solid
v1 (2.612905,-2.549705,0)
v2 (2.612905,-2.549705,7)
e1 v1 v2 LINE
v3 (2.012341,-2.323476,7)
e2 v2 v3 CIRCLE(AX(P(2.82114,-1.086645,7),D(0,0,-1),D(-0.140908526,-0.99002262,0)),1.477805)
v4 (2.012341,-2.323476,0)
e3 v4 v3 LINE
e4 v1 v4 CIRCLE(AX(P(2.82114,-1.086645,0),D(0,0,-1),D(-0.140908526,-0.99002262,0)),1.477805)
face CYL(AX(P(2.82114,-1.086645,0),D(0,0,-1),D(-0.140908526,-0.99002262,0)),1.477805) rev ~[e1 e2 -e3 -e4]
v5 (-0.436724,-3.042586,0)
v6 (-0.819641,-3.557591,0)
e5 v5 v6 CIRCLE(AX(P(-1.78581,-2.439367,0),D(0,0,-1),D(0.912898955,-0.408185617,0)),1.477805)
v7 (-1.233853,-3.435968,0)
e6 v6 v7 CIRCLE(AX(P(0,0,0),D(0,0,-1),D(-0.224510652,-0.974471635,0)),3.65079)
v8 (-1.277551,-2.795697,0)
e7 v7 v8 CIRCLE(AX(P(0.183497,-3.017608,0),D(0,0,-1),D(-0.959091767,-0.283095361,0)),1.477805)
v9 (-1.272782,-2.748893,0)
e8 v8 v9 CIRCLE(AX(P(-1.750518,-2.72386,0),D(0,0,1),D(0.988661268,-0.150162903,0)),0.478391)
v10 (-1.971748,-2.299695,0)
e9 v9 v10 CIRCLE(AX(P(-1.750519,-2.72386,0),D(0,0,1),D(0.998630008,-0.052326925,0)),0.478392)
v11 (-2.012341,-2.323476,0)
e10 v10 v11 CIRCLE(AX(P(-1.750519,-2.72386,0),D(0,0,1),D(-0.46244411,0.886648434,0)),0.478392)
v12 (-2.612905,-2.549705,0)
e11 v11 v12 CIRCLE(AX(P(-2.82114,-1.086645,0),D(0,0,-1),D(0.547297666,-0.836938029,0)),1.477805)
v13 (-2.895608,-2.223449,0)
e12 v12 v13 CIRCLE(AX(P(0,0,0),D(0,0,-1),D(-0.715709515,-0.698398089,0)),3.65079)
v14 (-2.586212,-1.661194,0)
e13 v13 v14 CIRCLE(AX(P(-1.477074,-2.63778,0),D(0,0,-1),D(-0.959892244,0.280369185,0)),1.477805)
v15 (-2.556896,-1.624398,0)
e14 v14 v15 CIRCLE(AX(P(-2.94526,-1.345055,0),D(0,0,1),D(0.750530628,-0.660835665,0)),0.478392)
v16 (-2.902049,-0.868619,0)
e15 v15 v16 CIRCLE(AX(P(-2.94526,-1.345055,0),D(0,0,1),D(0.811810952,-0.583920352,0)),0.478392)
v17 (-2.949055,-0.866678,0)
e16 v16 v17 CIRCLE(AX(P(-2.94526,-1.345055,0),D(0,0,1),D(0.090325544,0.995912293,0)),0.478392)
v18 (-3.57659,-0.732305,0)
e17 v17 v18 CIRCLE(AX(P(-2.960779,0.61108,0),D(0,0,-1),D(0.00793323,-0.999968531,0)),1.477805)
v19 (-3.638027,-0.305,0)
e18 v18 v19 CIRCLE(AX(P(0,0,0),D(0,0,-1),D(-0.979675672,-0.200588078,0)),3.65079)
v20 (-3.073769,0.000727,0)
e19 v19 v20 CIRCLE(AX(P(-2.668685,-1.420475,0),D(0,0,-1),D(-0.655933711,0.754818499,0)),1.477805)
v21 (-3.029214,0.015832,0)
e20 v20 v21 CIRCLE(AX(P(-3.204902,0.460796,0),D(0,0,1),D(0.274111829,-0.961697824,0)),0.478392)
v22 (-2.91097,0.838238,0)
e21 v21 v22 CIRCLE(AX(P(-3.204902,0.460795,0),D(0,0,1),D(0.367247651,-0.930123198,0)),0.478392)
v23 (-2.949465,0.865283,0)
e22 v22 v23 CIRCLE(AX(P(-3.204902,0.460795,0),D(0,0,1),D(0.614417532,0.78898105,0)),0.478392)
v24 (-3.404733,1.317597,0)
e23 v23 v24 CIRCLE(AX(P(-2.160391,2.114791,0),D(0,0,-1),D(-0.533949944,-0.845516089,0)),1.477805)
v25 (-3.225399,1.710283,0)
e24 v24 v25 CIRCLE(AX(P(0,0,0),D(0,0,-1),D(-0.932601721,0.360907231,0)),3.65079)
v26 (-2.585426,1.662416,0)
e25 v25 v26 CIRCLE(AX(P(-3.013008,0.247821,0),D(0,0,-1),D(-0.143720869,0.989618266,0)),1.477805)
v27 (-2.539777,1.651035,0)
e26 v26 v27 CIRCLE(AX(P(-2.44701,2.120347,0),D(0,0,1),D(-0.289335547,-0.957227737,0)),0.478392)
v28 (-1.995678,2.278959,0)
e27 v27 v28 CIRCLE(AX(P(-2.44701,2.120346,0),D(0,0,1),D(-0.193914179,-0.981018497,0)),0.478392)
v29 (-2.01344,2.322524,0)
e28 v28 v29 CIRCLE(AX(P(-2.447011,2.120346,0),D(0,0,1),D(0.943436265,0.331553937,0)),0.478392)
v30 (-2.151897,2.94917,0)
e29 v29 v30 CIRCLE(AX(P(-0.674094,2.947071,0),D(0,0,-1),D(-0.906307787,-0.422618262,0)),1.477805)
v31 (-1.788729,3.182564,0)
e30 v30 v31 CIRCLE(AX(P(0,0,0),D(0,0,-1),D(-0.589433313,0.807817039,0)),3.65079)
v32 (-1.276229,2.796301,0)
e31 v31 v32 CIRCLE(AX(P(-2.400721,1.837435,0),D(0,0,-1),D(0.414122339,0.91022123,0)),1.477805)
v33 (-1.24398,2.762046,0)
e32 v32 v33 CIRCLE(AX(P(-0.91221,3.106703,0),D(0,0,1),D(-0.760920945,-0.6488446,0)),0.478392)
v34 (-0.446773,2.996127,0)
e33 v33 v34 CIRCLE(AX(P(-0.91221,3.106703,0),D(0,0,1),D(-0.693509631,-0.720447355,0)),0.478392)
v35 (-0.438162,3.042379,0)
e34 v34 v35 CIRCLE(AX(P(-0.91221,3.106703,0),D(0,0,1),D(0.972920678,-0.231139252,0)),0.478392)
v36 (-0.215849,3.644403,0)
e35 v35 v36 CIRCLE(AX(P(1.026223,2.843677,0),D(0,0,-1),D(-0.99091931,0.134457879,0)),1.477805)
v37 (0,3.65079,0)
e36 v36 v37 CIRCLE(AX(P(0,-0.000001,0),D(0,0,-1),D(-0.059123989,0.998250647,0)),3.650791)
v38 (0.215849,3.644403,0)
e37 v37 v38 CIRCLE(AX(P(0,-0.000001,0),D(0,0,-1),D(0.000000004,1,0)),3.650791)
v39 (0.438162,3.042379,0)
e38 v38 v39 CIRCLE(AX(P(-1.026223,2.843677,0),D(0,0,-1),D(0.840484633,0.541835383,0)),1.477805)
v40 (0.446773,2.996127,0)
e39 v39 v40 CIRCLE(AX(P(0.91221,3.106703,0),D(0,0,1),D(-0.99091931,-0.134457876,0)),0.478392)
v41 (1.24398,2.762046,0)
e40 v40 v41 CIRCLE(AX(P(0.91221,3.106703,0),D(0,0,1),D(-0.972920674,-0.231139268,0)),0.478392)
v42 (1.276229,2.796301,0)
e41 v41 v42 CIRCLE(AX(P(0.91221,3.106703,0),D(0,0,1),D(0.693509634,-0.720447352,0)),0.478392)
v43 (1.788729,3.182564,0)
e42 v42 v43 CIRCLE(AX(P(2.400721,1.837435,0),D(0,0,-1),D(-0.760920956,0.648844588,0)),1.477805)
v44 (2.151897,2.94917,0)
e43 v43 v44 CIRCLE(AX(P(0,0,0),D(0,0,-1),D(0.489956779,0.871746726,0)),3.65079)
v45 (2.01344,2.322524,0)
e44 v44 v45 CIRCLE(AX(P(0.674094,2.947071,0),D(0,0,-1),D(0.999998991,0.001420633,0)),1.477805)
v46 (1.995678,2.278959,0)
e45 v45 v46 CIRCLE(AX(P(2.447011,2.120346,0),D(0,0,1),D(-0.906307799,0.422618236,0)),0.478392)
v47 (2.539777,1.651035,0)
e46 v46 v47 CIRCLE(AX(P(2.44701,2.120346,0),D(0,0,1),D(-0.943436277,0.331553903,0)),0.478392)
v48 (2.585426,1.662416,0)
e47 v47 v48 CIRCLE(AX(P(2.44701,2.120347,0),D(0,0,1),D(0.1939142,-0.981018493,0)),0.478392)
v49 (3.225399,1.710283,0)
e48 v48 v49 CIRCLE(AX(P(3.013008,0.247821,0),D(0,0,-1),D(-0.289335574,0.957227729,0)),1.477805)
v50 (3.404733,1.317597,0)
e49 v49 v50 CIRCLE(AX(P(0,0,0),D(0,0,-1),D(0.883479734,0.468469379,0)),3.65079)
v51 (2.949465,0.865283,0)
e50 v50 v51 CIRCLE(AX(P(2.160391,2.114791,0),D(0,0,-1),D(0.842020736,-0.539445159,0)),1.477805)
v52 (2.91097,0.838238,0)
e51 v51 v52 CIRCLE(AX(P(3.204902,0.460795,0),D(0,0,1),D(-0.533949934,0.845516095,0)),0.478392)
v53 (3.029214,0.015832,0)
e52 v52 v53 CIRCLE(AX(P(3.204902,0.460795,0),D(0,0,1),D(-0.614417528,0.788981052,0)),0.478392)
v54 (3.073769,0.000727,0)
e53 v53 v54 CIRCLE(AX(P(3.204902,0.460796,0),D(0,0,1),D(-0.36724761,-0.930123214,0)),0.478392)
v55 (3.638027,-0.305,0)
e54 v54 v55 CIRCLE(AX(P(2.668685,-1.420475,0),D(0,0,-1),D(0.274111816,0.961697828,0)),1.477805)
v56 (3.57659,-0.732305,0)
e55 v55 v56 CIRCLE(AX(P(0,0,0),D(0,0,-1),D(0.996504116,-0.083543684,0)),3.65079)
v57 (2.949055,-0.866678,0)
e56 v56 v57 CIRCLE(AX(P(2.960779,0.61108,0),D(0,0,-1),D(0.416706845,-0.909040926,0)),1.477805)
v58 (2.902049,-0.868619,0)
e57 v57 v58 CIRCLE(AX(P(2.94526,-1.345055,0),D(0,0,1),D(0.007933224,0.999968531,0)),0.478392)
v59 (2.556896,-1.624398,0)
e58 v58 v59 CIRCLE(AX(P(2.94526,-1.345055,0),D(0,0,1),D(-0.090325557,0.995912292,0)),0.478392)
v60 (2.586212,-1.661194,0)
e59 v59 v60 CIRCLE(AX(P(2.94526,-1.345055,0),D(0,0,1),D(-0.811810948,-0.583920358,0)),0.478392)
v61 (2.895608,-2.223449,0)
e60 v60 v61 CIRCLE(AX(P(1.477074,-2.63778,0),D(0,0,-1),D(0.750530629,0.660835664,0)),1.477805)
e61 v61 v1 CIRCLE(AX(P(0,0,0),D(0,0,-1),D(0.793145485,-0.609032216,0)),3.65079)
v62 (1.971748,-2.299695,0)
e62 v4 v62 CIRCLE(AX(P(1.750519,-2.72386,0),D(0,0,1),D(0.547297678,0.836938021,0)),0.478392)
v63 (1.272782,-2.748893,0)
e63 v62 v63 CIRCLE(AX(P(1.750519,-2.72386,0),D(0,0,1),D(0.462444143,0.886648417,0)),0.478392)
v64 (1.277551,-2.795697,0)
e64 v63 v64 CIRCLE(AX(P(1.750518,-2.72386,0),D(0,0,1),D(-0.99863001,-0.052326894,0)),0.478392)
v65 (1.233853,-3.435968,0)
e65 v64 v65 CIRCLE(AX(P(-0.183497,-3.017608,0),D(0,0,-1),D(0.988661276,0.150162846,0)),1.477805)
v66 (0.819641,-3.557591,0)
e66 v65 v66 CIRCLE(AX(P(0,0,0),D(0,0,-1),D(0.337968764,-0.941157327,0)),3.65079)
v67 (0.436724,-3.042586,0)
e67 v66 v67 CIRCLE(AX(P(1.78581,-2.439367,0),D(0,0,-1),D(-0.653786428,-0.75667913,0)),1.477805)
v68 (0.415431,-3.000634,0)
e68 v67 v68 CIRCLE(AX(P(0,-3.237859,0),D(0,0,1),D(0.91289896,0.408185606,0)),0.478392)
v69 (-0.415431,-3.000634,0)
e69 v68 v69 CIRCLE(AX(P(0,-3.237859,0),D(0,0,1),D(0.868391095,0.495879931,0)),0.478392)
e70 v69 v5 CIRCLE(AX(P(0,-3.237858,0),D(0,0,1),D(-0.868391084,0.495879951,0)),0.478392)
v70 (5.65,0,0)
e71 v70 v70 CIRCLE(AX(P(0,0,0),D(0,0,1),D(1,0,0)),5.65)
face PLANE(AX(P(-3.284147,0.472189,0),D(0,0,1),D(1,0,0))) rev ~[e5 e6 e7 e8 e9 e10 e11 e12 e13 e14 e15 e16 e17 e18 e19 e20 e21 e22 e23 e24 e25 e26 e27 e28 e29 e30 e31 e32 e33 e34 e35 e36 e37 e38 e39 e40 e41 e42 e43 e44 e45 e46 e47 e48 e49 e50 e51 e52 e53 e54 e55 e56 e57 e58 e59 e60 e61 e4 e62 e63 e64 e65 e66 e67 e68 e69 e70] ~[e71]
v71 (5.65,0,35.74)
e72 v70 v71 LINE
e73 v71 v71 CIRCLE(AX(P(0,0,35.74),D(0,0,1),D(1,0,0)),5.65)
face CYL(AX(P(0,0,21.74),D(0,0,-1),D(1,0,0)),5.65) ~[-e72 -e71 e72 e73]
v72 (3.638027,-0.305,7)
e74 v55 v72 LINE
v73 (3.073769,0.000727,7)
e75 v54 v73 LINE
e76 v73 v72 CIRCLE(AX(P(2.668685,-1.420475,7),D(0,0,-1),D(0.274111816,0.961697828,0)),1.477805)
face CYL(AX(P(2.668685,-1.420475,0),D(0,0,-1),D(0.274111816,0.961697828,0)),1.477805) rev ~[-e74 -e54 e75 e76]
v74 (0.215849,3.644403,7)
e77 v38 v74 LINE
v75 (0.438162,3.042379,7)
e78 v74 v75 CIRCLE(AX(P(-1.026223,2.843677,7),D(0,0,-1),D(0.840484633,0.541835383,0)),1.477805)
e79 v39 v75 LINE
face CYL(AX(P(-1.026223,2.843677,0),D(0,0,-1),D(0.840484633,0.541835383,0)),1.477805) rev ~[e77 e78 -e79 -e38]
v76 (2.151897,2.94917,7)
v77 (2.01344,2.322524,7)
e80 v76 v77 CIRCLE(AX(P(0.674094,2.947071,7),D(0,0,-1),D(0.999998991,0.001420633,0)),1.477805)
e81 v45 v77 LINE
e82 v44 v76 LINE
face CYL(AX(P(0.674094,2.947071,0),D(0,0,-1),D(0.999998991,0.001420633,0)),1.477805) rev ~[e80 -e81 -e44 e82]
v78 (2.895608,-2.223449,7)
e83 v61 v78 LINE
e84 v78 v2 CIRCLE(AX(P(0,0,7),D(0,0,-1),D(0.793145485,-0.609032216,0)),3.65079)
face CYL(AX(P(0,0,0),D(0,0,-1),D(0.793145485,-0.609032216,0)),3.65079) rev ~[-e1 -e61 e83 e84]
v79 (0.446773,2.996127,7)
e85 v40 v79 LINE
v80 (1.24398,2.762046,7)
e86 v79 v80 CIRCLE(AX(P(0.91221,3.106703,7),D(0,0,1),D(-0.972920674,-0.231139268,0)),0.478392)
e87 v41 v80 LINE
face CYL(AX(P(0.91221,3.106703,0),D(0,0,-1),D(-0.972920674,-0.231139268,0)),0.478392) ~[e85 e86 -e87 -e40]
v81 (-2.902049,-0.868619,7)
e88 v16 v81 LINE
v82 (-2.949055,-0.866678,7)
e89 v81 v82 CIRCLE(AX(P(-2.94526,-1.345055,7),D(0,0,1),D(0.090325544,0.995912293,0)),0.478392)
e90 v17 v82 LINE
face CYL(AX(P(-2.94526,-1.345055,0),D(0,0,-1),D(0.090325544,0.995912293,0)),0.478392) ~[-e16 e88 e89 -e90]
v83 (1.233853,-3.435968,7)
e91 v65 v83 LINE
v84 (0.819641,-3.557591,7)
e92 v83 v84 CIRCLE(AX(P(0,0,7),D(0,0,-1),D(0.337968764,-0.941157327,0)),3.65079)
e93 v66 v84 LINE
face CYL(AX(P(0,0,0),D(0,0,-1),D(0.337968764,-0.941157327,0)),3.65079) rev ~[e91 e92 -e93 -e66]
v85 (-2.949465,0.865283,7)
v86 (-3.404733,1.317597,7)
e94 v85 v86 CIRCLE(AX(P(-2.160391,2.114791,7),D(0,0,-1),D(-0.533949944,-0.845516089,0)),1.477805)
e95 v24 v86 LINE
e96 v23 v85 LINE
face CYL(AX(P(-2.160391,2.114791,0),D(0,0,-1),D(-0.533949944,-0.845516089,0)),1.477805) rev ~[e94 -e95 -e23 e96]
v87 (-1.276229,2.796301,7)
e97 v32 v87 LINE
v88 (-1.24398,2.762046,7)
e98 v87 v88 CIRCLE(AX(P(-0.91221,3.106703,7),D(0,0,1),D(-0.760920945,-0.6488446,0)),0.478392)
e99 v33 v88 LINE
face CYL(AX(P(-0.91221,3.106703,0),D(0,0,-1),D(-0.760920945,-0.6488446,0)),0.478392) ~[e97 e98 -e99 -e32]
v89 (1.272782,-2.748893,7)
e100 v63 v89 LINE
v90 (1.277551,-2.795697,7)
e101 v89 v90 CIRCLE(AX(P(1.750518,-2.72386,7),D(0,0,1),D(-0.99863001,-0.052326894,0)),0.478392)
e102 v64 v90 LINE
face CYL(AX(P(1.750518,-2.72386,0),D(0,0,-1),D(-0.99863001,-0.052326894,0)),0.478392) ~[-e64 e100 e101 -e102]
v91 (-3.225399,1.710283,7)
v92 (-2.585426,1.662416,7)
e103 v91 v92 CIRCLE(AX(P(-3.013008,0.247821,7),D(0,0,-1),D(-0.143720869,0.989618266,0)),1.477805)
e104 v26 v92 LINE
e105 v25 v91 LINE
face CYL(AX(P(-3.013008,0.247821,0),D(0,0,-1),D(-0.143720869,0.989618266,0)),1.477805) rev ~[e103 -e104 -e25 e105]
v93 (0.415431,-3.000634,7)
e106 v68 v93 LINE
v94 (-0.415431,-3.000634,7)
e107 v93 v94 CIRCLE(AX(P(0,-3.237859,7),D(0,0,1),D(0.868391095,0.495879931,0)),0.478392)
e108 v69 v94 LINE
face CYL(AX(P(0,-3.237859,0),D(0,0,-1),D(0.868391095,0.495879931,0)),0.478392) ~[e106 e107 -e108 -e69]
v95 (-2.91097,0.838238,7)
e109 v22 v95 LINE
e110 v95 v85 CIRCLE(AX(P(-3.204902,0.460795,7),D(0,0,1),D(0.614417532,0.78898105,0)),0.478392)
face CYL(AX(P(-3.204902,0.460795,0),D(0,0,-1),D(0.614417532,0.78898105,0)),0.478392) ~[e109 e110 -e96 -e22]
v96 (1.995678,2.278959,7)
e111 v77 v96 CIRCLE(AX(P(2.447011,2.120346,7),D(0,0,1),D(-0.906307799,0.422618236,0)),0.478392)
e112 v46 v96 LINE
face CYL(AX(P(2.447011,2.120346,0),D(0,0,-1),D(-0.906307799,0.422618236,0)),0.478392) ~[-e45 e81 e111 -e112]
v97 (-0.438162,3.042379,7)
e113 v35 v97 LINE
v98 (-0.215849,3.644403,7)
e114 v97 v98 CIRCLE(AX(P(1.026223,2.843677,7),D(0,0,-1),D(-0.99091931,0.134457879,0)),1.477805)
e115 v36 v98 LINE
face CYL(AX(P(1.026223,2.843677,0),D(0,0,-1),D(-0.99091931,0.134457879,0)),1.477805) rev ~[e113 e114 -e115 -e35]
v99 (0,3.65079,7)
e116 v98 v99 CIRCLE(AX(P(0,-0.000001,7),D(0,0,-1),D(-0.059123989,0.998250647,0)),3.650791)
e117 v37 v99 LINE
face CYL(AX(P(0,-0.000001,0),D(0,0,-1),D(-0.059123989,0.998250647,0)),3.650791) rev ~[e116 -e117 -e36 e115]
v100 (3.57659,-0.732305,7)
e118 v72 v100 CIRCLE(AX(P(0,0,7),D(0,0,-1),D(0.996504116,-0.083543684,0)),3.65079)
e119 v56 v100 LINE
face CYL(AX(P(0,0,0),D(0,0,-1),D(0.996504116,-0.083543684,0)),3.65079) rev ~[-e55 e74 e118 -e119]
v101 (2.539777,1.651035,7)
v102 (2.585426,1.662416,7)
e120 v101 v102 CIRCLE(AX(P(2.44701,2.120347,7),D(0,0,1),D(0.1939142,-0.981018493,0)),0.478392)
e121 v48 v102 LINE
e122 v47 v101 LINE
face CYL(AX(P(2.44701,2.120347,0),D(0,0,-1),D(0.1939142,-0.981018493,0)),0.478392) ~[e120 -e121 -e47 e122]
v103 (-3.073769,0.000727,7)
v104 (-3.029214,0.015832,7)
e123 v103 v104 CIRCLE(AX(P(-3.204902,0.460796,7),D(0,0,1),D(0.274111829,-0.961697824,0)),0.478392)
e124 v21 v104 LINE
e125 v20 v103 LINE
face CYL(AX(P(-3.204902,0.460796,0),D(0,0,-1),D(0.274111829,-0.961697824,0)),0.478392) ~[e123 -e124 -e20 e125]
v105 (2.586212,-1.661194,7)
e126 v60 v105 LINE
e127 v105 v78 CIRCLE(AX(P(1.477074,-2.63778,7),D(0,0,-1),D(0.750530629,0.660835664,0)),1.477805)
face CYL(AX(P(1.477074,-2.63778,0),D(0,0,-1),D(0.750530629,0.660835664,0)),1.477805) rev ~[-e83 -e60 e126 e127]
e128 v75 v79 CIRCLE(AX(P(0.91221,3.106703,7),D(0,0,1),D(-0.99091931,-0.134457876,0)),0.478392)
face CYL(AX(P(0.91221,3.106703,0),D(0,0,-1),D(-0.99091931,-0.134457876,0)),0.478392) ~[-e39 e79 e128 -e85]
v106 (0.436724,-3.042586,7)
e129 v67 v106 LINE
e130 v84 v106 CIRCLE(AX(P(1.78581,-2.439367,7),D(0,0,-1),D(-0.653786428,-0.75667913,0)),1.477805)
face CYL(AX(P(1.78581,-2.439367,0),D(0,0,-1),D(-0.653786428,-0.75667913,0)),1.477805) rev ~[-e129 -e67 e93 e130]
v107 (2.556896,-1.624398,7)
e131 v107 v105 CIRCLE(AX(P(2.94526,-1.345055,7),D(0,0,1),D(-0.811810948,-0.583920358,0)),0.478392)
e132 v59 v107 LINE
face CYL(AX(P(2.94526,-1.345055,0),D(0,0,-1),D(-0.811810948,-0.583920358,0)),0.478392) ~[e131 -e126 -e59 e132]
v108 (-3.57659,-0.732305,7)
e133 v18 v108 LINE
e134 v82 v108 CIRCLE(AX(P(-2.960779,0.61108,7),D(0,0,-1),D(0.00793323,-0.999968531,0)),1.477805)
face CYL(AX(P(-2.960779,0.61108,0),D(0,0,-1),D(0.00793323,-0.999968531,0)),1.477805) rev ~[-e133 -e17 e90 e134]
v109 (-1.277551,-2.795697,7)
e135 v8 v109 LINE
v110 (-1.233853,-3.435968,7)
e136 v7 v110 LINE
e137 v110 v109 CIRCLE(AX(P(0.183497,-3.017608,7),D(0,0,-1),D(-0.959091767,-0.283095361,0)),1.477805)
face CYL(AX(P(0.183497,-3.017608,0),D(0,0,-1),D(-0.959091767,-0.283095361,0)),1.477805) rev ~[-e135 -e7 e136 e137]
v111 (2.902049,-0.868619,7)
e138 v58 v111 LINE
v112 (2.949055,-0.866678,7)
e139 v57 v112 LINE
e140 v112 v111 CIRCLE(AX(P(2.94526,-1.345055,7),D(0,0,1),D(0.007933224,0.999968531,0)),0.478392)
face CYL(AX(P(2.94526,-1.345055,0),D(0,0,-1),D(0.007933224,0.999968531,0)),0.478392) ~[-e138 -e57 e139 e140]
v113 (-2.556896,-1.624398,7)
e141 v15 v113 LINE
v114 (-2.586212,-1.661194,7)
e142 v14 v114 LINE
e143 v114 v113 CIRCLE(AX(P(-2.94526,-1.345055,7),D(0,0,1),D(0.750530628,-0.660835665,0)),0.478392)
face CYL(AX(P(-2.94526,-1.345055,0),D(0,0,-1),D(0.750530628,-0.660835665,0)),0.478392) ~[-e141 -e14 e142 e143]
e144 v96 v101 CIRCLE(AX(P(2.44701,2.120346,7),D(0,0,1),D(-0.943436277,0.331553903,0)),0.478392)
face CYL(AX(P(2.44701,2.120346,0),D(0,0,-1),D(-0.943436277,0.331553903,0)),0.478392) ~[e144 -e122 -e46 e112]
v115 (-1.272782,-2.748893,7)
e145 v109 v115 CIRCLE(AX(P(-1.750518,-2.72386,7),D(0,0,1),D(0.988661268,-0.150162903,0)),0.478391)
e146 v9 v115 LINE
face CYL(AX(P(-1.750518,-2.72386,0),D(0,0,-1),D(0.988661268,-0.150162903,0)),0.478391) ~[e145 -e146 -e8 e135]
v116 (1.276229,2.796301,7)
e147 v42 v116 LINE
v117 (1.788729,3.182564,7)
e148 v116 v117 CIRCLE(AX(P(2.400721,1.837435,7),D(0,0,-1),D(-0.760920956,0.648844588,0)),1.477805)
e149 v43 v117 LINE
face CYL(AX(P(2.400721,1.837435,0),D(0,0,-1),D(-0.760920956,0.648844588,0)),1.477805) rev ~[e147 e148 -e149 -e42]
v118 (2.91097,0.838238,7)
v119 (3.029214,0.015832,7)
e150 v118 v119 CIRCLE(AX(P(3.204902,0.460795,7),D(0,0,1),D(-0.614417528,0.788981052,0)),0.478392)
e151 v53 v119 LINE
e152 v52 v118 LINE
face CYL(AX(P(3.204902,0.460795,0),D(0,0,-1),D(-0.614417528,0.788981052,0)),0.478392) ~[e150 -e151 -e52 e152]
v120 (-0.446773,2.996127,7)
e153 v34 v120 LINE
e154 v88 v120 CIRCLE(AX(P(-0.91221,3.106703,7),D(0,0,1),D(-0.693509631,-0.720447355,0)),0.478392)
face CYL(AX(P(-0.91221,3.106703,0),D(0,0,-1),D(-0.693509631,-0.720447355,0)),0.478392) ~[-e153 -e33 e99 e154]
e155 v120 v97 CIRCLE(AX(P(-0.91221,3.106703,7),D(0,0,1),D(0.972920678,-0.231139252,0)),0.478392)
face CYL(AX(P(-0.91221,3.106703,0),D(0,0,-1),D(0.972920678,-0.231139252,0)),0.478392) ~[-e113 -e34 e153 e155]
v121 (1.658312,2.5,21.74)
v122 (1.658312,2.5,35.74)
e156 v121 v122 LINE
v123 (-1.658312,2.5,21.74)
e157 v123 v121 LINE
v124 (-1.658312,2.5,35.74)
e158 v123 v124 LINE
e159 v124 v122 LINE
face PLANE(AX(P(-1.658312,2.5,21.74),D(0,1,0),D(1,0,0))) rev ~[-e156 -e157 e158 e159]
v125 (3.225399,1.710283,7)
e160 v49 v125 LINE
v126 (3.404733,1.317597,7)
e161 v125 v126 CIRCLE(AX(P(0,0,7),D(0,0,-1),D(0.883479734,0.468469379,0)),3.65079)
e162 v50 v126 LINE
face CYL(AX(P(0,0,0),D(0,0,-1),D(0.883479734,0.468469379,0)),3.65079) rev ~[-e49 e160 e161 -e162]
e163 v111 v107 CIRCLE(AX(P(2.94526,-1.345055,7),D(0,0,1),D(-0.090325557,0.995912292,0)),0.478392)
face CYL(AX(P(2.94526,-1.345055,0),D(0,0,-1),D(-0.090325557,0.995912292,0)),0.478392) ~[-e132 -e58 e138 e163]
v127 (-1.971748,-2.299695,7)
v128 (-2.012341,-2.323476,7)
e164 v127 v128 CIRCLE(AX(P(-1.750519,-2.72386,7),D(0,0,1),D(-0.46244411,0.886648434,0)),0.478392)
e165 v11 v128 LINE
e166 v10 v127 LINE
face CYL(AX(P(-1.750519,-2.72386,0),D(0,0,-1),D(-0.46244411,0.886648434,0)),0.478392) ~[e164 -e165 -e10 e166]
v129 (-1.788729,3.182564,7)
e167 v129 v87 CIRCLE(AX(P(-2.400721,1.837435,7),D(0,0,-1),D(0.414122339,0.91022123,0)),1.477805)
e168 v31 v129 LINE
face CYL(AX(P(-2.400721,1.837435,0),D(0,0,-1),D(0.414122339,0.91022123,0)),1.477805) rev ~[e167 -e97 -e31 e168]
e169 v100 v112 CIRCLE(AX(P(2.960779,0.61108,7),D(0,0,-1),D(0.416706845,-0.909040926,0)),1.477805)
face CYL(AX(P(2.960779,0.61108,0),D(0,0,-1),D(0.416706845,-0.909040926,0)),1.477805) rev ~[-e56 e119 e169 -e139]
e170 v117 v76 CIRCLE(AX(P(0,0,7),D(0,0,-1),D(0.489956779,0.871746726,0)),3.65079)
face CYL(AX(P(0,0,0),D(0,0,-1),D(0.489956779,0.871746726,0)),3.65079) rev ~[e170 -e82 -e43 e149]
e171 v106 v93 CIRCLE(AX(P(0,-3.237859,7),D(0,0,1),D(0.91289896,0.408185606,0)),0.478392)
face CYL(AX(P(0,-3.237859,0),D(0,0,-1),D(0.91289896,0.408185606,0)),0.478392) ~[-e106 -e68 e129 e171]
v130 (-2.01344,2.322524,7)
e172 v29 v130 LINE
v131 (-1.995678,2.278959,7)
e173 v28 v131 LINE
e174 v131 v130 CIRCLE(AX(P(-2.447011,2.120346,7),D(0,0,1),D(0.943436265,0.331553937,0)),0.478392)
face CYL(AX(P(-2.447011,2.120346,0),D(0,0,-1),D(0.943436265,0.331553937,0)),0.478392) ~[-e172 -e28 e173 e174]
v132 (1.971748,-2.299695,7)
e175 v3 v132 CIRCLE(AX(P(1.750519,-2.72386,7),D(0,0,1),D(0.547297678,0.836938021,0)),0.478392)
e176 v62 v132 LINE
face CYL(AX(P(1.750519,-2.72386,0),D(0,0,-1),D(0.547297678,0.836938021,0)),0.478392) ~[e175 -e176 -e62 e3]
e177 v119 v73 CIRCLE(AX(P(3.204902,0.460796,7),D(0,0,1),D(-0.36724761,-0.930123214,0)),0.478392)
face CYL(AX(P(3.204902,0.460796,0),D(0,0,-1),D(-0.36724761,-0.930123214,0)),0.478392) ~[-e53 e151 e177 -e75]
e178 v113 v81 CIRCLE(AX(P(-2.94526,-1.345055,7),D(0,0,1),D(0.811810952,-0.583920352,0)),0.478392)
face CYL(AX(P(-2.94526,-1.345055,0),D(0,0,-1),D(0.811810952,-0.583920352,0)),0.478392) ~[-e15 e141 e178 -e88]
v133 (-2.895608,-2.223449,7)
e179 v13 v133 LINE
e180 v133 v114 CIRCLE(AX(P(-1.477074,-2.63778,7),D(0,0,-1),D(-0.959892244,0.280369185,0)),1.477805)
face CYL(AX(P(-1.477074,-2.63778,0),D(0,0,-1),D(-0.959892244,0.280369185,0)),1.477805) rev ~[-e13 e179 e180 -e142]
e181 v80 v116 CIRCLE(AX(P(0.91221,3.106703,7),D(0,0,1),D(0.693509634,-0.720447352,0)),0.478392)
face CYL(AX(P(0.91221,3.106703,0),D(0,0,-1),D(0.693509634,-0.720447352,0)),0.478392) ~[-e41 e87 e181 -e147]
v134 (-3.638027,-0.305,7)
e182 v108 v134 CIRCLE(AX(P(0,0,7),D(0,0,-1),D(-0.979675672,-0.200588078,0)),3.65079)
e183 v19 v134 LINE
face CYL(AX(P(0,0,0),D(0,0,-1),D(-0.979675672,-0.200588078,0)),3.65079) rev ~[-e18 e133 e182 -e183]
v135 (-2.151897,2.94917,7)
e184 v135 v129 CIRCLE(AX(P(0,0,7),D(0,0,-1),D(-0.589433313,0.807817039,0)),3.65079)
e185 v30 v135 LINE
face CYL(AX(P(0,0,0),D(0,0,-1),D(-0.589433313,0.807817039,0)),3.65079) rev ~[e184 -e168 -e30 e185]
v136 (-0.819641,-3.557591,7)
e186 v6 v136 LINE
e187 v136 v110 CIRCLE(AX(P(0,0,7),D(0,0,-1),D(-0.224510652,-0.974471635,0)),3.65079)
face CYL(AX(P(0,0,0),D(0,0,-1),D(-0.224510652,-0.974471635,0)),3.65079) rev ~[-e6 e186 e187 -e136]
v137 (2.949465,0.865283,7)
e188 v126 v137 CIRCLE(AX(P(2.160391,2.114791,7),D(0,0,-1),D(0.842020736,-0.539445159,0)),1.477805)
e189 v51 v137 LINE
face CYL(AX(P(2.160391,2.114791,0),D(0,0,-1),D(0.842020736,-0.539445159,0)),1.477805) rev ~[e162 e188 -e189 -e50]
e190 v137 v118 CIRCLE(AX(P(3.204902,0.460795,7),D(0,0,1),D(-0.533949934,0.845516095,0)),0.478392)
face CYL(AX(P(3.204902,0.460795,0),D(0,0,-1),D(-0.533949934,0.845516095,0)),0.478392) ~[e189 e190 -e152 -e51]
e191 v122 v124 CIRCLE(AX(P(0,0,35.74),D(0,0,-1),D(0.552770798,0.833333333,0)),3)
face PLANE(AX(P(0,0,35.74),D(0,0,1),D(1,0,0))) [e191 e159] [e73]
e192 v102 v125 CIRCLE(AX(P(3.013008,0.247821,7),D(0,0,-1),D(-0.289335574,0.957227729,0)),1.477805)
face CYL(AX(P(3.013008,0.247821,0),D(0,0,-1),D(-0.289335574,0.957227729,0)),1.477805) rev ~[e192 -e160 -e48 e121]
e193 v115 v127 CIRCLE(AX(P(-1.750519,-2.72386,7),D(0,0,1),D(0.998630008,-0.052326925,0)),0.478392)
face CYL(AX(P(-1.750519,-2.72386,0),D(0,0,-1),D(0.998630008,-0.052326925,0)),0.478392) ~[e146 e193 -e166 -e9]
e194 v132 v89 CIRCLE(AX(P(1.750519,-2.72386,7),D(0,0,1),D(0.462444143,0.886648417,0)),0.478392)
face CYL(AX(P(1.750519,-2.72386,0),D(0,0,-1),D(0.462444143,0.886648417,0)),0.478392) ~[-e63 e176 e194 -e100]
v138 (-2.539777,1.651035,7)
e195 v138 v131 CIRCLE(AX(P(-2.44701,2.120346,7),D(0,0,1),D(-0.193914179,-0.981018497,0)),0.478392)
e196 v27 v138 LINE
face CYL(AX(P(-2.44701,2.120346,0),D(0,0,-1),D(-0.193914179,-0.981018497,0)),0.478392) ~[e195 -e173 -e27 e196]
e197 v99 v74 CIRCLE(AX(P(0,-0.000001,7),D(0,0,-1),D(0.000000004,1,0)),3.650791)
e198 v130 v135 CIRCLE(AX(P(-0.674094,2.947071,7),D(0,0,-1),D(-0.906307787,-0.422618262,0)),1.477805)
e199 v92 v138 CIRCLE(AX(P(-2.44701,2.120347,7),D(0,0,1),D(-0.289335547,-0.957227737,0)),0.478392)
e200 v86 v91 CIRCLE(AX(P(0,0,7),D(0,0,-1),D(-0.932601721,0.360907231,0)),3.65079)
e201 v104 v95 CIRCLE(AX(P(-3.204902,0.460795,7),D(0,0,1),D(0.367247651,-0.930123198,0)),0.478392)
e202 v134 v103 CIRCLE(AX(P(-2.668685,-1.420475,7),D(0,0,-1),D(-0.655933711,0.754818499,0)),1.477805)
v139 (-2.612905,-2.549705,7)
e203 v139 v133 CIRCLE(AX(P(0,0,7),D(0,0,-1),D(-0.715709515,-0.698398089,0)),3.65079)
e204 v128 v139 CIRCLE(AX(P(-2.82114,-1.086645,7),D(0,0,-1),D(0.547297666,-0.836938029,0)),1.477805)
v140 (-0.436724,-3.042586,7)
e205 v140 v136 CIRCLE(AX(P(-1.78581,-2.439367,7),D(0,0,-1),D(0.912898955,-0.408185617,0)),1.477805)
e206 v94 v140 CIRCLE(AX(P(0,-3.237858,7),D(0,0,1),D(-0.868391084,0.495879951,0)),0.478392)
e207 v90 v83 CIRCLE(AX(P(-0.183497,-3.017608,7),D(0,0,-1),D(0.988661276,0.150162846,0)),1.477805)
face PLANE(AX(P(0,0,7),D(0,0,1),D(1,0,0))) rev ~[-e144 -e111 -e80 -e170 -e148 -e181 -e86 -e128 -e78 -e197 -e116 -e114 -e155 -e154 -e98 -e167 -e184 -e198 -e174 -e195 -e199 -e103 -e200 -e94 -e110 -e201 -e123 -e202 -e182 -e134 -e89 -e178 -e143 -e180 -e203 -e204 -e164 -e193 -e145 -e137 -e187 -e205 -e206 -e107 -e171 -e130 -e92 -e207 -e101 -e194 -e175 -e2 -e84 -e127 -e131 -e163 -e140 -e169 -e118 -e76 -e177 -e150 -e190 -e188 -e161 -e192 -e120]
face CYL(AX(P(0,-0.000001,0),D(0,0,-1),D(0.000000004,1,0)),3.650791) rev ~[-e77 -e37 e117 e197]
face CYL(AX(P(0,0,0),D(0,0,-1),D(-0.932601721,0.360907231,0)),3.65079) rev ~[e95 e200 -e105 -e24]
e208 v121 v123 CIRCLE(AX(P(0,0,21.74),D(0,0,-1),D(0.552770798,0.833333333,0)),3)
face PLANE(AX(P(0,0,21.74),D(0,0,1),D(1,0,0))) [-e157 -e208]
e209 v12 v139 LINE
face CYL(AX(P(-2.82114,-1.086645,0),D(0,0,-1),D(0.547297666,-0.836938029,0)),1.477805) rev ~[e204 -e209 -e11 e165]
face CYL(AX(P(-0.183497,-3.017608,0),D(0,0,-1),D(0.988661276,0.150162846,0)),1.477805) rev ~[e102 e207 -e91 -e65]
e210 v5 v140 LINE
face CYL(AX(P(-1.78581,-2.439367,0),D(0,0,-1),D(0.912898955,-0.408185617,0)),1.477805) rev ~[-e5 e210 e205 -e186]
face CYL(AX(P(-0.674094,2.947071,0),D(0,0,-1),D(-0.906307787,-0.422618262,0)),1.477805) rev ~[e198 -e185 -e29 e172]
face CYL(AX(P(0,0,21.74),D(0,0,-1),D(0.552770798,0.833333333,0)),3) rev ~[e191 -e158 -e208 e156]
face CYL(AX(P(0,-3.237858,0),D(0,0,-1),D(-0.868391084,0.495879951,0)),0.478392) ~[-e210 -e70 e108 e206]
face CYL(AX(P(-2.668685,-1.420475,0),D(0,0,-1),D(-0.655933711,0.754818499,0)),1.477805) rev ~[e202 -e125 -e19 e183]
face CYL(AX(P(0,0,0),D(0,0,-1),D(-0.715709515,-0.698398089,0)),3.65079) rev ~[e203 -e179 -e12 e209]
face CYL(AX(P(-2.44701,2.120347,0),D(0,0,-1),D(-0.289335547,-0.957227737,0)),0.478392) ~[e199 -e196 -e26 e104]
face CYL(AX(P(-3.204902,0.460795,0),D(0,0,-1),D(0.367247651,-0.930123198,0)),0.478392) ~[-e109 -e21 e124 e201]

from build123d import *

# Parameters (mm, degrees)
SKETCH1_R           = 5.65
BOSS_EXTRUDE1_DEPTH = 7
SKETCH2_R           = 5.65
BOSS_EXTRUDE2_DEPTH = 14.74
SKETCH3_R           = 5.65
BOSS_EXTRUDE3_DEPTH = 14


with BuildPart() as part:
    # Sketch1 → Boss-Extrude1 (new body)
    # profile 1 of 12: a face of its own
    with BuildSketch(Plane.XY):
        Circle(SKETCH1_R)
        with BuildLine():
            ThreePointArc((-0.81964124, -3.557591308), (-1.028546403, -3.50290736), (-1.233852984, -3.435967766))
            ThreePointArc((-1.233852984, -3.435967766), (-1.973766094, -3.071239991), (-2.612905161, -2.549704746))
            ThreePointArc((-2.612905161, -2.549704746), (-2.759082994, -2.390759024), (-2.895607604, -2.223448736))
            ThreePointArc((-2.895607604, -2.223448736), (-3.320875399, -1.516592978), (-3.576590156, -0.732304943))
            ThreePointArc((-3.576590156, -0.732304943), (-3.613630229, -0.519561589), (-3.638027269, -0.305000442))
            ThreePointArc((-3.638027269, -0.305000442), (-3.613630229, 0.519561589), (-3.404733048, 1.317596505))
            ThreePointArc((-3.404733048, 1.317596505), (-3.320875399, 1.516592978), (-3.225398981, 1.710283337))
            ThreePointArc((-3.225398981, 1.710283337), (-2.759082994, 2.390759024), (-2.151897253, 2.949170373))
            ThreePointArc((-2.151897253, 2.949170373), (-1.973766094, 3.071239991), (-1.788729306, 3.182564241))
            ThreePointArc((-1.788729306, 3.182564241), (-1.028546403, 3.50290736), (-0.215849285, 3.644403485))
            ThreePointArc((-0.215849285, 3.644403485), (-0.107971873, 3.649193027), (0, 3.650790007))
            ThreePointArc((0, 3.650790007), (0.107971873, 3.649193027), (0.215849285, 3.644403485))
            ThreePointArc((0.215849285, 3.644403485), (1.028546403, 3.50290736), (1.788729306, 3.182564241))
            ThreePointArc((1.788729306, 3.182564241), (1.973766094, 3.071239991), (2.151897253, 2.949170373))
            ThreePointArc((2.151897253, 2.949170373), (2.759082994, 2.390759024), (3.225398981, 1.710283337))
            ThreePointArc((3.225398981, 1.710283337), (3.320875399, 1.516592978), (3.404733048, 1.317596505))
            ThreePointArc((3.404733048, 1.317596505), (3.588748603, 0.670187395), (3.650790007, 0))
            ThreePointArc((3.650790007, 0), (3.647597927, -0.152633677), (3.638027269, -0.305000442))
            ThreePointArc((3.638027269, -0.305000442), (3.613630229, -0.519561589), (3.576590156, -0.732304943))
            ThreePointArc((3.576590156, -0.732304943), (3.320875399, -1.516592978), (2.895607604, -2.223448736))
            ThreePointArc((2.895607604, -2.223448736), (2.759082994, -2.390759024), (2.612905161, -2.549704746))
            ThreePointArc((2.612905161, -2.549704746), (1.973766094, -3.071239991), (1.233852984, -3.435967766))
            ThreePointArc((1.233852984, -3.435967766), (1.028546403, -3.50290736), (0.81964124, -3.557591308))
            ThreePointArc((0.81964124, -3.557591308), (0, -3.650790007), (-0.81964124, -3.557591308))
        make_face(mode=Mode.SUBTRACT)
    # profile 2 of 12: a face of its own
    with BuildSketch(Plane.XY):
        with BuildLine():
            ThreePointArc((-2.151897253, 2.949170373), (-2.759082994, 2.390759024), (-3.225398981, 1.710283337))
            ThreePointArc((-3.225398981, 1.710283337), (-2.902782795, 1.721509121), (-2.585426091, 1.662416447))
            ThreePointArc((-2.585426091, 1.662416447), (-2.562741672, 1.6561643), (-2.539777266, 1.651035136))
            ThreePointArc((-2.539777266, 1.651035136), (-2.085465777, 1.807066382), (-1.99567797, 2.278959198))
            ThreePointArc((-1.99567797, 2.278959198), (-2.004023102, 2.300959902), (-2.013439941, 2.322523654))
            ThreePointArc((-2.013439941, 2.322523654), (-2.117095704, 2.628240359), (-2.151897253, 2.949170373))
        make_face()
    # profile 3 of 12: a face of its own
    with BuildSketch(Plane.XY):
        with BuildLine():
            ThreePointArc((-0.215849285, 3.644403485), (-1.028546403, 3.50290736), (-1.788729306, 3.182564241))
            ThreePointArc((-1.788729306, 3.182564241), (-1.511258183, 3.017588493), (-1.276228646, 2.796300584))
            ThreePointArc((-1.276228646, 2.796300584), (-1.260525464, 2.77877682), (-1.243979612, 2.762046398))
            ThreePointArc((-1.243979612, 2.762046398), (-0.777431606, 2.6476889), (-0.446772779, 2.996127445))
            ThreePointArc((-0.446772779, 2.996127445), (-0.441898672, 3.019147334), (-0.438162377, 3.042379044))
            ThreePointArc((-0.438162377, 3.042379044), (-0.360080224, 3.355604839), (-0.215849285, 3.644403485))
        make_face()
    # profile 4 of 12: a face of its own
    with BuildSketch(Plane.XY):
        with BuildLine():
            ThreePointArc((1.788729306, 3.182564241), (1.028546403, 3.50290736), (0.215849285, 3.644403485))
            ThreePointArc((0.215849285, 3.644403485), (0.360080224, 3.355604839), (0.438162377, 3.042379044))
            ThreePointArc((0.438162377, 3.042379044), (0.441898672, 3.019147334), (0.446772779, 2.996127445))
            ThreePointArc((0.446772779, 2.996127445), (0.777431606, 2.6476889), (1.243979612, 2.762046398))
            ThreePointArc((1.243979612, 2.762046398), (1.260525464, 2.77877682), (1.276228646, 2.796300584))
            ThreePointArc((1.276228646, 2.796300584), (1.511258183, 3.017588493), (1.788729306, 3.182564241))
        make_face()
    # profile 5 of 12: a face of its own
    with BuildSketch(Plane.XY):
        with BuildLine():
            ThreePointArc((2.585426091, 1.662416447), (2.902782795, 1.721509121), (3.225398981, 1.710283337))
            ThreePointArc((3.225398981, 1.710283337), (2.759082994, 2.390759024), (2.151897253, 2.949170373))
            ThreePointArc((2.151897253, 2.949170373), (2.117095704, 2.628240359), (2.013439941, 2.322523654))
            ThreePointArc((2.013439941, 2.322523654), (2.004023102, 2.300959902), (1.99567797, 2.278959198))
            ThreePointArc((1.99567797, 2.278959198), (2.085465777, 1.807066382), (2.539777266, 1.651035136))
            ThreePointArc((2.539777266, 1.651035136), (2.562741672, 1.6561643), (2.585426091, 1.662416447))
        make_face()
    # profile 6 of 12: a face of its own
    with BuildSketch(Plane.XY):
        with BuildLine():
            ThreePointArc((3.07376902, 0.000726834), (3.372694379, -0.121137234), (3.638027269, -0.305000442))
            ThreePointArc((3.638027269, -0.305000442), (3.647597927, -0.152633677), (3.650790007, 0))
            ThreePointArc((3.650790007, 0), (3.588748603, 0.670187395), (3.404733048, 1.317596505))
            ThreePointArc((3.404733048, 1.317596505), (3.201948257, 1.066428135), (2.94946455, 0.865283413))
            ThreePointArc((2.94946455, 0.865283413), (2.929884357, 0.852233959), (2.910969506, 0.838237507))
            ThreePointArc((2.910969506, 0.838237507), (2.731379298, 0.392713056), (3.029213584, 0.015831883))
            ThreePointArc((3.029213584, 0.015831883), (3.051305506, 0.007731316), (3.07376902, 0.000726834))
        make_face()
    # profile 7 of 12: a face of its own
    with BuildSketch(Plane.XY):
        with BuildLine():
            ThreePointArc((2.586212003, -1.661193544), (2.771799329, -1.925323372), (2.895607604, -2.223448736))
            ThreePointArc((2.895607604, -2.223448736), (3.320875399, -1.516592978), (3.576590156, -0.732304943))
            ThreePointArc((3.576590156, -0.732304943), (3.270204862, -0.833967486), (2.949055004, -0.866678197))
            ThreePointArc((2.949055004, -0.866678197), (2.92552803, -0.867070245), (2.902048792, -0.868618669))
            ThreePointArc((2.902048792, -0.868618669), (2.510099192, -1.146323891), (2.556895991, -1.62439788))
            ThreePointArc((2.556895991, -1.62439788), (2.571101401, -1.643156306), (2.586212003, -1.661193544))
        make_face()
    # profile 8 of 12: a face of its own
    with BuildSketch(Plane.XY):
        with BuildLine():
            ThreePointArc((1.277550948, -2.79569671), (1.290877576, -3.118232944), (1.233852984, -3.435967766))
            ThreePointArc((1.233852984, -3.435967766), (1.973766094, -3.071239991), (2.612905161, -2.549704746))
            ThreePointArc((2.612905161, -2.549704746), (2.300194531, -2.469584323), (2.012341335, -2.323475602))
            ThreePointArc((2.012341335, -2.323475602), (1.992337228, -2.311085771), (1.971748095, -2.299694554))
            ThreePointArc((1.971748095, -2.299694554), (1.491880328, -2.321411101), (1.272781988, -2.748892795))
            ThreePointArc((1.272781988, -2.748892795), (1.274590768, -2.772353412), (1.277550948, -2.79569671))
        make_face()
    # profile 9 of 12: a face of its own
    with BuildSketch(Plane.XY):
        with BuildLine():
            ThreePointArc((-0.436723505, -3.042585922), (-0.599888686, -3.321125588), (-0.81964124, -3.557591308))
            ThreePointArc((-0.81964124, -3.557591308), (0, -3.650790007), (0.81964124, -3.557591308))
            ThreePointArc((0.81964124, -3.557591308), (0.599888686, -3.321125588), (0.436723505, -3.042585922))
            ThreePointArc((0.436723505, -3.042585922), (0.426593428, -3.021347897), (0.415431304, -3.00063367))
            ThreePointArc((0.415431304, -3.00063367), (0, -2.75946669), (-0.415431304, -3.000633669))
            ThreePointArc((-0.415431304, -3.000633669), (-0.426593428, -3.021347896), (-0.436723505, -3.042585922))
        make_face()
    # profile 10 of 12: a face of its own
    with BuildSketch(Plane.XY):
        with BuildLine():
            ThreePointArc((-1.233852984, -3.435967766), (-1.290877576, -3.118232944), (-1.277550949, -2.79569671))
            ThreePointArc((-1.277550949, -2.79569671), (-1.274590768, -2.772353411), (-1.272781988, -2.748892794))
            ThreePointArc((-1.272781988, -2.748892794), (-1.491880327, -2.321411102), (-1.971748091, -2.299694555))
            ThreePointArc((-1.971748091, -2.299694555), (-1.992337225, -2.311085772), (-2.012341332, -2.323475603))
            ThreePointArc((-2.012341332, -2.323475603), (-2.300194529, -2.469584324), (-2.612905161, -2.549704746))
            ThreePointArc((-2.612905161, -2.549704746), (-1.973766094, -3.071239991), (-1.233852984, -3.435967766))
        make_face()
    # profile 11 of 12: a face of its own
    with BuildSketch(Plane.XY):
        with BuildLine():
            ThreePointArc((-3.576590156, -0.732304943), (-3.320875399, -1.516592978), (-2.895607604, -2.223448736))
            ThreePointArc((-2.895607604, -2.223448736), (-2.771799329, -1.925323372), (-2.586212003, -1.661193544))
            ThreePointArc((-2.586212003, -1.661193544), (-2.571101401, -1.643156306), (-2.556895991, -1.62439788))
            ThreePointArc((-2.556895991, -1.62439788), (-2.510099192, -1.146323891), (-2.902048792, -0.868618669))
            ThreePointArc((-2.902048792, -0.868618669), (-2.92552803, -0.867070245), (-2.949055004, -0.866678197))
            ThreePointArc((-2.949055004, -0.866678197), (-3.270204862, -0.833967486), (-3.576590156, -0.732304943))
        make_face()
    # profile 12 of 12: a face of its own
    with BuildSketch(Plane.XY):
        with BuildLine():
            ThreePointArc((-3.404733048, 1.317596505), (-3.613630229, 0.519561589), (-3.638027269, -0.305000442))
            ThreePointArc((-3.638027269, -0.305000442), (-3.372694379, -0.121137234), (-3.07376902, 0.000726834))
            ThreePointArc((-3.07376902, 0.000726834), (-3.051305506, 0.007731316), (-3.029213584, 0.015831883))
            ThreePointArc((-3.029213584, 0.015831883), (-2.731379298, 0.392713056), (-2.910969506, 0.838237507))
            ThreePointArc((-2.910969506, 0.838237507), (-2.929884357, 0.852233959), (-2.94946455, 0.865283413))
            ThreePointArc((-2.94946455, 0.865283413), (-3.201948257, 1.066428135), (-3.404733048, 1.317596505))
        make_face()
    extrude(amount=BOSS_EXTRUDE1_DEPTH)

    # Sketch2 → Boss-Extrude2 (add)
    with BuildSketch(Plane.XY.offset(7)):
        Circle(SKETCH2_R)
    extrude(amount=BOSS_EXTRUDE2_DEPTH)

    # Sketch3 → Boss-Extrude3 (add)
    with BuildSketch(Plane.XY.offset(21.74)):
        Circle(SKETCH3_R)
        with BuildLine():
            Line((-1.658312395, 2.5), (1.658312395, 2.5))
            ThreePointArc((1.658312395, 2.5), (0, -3), (-1.658312395, 2.5))
        make_face(mode=Mode.SUBTRACT)
    extrude(amount=BOSS_EXTRUDE3_DEPTH)


solid = part.part
